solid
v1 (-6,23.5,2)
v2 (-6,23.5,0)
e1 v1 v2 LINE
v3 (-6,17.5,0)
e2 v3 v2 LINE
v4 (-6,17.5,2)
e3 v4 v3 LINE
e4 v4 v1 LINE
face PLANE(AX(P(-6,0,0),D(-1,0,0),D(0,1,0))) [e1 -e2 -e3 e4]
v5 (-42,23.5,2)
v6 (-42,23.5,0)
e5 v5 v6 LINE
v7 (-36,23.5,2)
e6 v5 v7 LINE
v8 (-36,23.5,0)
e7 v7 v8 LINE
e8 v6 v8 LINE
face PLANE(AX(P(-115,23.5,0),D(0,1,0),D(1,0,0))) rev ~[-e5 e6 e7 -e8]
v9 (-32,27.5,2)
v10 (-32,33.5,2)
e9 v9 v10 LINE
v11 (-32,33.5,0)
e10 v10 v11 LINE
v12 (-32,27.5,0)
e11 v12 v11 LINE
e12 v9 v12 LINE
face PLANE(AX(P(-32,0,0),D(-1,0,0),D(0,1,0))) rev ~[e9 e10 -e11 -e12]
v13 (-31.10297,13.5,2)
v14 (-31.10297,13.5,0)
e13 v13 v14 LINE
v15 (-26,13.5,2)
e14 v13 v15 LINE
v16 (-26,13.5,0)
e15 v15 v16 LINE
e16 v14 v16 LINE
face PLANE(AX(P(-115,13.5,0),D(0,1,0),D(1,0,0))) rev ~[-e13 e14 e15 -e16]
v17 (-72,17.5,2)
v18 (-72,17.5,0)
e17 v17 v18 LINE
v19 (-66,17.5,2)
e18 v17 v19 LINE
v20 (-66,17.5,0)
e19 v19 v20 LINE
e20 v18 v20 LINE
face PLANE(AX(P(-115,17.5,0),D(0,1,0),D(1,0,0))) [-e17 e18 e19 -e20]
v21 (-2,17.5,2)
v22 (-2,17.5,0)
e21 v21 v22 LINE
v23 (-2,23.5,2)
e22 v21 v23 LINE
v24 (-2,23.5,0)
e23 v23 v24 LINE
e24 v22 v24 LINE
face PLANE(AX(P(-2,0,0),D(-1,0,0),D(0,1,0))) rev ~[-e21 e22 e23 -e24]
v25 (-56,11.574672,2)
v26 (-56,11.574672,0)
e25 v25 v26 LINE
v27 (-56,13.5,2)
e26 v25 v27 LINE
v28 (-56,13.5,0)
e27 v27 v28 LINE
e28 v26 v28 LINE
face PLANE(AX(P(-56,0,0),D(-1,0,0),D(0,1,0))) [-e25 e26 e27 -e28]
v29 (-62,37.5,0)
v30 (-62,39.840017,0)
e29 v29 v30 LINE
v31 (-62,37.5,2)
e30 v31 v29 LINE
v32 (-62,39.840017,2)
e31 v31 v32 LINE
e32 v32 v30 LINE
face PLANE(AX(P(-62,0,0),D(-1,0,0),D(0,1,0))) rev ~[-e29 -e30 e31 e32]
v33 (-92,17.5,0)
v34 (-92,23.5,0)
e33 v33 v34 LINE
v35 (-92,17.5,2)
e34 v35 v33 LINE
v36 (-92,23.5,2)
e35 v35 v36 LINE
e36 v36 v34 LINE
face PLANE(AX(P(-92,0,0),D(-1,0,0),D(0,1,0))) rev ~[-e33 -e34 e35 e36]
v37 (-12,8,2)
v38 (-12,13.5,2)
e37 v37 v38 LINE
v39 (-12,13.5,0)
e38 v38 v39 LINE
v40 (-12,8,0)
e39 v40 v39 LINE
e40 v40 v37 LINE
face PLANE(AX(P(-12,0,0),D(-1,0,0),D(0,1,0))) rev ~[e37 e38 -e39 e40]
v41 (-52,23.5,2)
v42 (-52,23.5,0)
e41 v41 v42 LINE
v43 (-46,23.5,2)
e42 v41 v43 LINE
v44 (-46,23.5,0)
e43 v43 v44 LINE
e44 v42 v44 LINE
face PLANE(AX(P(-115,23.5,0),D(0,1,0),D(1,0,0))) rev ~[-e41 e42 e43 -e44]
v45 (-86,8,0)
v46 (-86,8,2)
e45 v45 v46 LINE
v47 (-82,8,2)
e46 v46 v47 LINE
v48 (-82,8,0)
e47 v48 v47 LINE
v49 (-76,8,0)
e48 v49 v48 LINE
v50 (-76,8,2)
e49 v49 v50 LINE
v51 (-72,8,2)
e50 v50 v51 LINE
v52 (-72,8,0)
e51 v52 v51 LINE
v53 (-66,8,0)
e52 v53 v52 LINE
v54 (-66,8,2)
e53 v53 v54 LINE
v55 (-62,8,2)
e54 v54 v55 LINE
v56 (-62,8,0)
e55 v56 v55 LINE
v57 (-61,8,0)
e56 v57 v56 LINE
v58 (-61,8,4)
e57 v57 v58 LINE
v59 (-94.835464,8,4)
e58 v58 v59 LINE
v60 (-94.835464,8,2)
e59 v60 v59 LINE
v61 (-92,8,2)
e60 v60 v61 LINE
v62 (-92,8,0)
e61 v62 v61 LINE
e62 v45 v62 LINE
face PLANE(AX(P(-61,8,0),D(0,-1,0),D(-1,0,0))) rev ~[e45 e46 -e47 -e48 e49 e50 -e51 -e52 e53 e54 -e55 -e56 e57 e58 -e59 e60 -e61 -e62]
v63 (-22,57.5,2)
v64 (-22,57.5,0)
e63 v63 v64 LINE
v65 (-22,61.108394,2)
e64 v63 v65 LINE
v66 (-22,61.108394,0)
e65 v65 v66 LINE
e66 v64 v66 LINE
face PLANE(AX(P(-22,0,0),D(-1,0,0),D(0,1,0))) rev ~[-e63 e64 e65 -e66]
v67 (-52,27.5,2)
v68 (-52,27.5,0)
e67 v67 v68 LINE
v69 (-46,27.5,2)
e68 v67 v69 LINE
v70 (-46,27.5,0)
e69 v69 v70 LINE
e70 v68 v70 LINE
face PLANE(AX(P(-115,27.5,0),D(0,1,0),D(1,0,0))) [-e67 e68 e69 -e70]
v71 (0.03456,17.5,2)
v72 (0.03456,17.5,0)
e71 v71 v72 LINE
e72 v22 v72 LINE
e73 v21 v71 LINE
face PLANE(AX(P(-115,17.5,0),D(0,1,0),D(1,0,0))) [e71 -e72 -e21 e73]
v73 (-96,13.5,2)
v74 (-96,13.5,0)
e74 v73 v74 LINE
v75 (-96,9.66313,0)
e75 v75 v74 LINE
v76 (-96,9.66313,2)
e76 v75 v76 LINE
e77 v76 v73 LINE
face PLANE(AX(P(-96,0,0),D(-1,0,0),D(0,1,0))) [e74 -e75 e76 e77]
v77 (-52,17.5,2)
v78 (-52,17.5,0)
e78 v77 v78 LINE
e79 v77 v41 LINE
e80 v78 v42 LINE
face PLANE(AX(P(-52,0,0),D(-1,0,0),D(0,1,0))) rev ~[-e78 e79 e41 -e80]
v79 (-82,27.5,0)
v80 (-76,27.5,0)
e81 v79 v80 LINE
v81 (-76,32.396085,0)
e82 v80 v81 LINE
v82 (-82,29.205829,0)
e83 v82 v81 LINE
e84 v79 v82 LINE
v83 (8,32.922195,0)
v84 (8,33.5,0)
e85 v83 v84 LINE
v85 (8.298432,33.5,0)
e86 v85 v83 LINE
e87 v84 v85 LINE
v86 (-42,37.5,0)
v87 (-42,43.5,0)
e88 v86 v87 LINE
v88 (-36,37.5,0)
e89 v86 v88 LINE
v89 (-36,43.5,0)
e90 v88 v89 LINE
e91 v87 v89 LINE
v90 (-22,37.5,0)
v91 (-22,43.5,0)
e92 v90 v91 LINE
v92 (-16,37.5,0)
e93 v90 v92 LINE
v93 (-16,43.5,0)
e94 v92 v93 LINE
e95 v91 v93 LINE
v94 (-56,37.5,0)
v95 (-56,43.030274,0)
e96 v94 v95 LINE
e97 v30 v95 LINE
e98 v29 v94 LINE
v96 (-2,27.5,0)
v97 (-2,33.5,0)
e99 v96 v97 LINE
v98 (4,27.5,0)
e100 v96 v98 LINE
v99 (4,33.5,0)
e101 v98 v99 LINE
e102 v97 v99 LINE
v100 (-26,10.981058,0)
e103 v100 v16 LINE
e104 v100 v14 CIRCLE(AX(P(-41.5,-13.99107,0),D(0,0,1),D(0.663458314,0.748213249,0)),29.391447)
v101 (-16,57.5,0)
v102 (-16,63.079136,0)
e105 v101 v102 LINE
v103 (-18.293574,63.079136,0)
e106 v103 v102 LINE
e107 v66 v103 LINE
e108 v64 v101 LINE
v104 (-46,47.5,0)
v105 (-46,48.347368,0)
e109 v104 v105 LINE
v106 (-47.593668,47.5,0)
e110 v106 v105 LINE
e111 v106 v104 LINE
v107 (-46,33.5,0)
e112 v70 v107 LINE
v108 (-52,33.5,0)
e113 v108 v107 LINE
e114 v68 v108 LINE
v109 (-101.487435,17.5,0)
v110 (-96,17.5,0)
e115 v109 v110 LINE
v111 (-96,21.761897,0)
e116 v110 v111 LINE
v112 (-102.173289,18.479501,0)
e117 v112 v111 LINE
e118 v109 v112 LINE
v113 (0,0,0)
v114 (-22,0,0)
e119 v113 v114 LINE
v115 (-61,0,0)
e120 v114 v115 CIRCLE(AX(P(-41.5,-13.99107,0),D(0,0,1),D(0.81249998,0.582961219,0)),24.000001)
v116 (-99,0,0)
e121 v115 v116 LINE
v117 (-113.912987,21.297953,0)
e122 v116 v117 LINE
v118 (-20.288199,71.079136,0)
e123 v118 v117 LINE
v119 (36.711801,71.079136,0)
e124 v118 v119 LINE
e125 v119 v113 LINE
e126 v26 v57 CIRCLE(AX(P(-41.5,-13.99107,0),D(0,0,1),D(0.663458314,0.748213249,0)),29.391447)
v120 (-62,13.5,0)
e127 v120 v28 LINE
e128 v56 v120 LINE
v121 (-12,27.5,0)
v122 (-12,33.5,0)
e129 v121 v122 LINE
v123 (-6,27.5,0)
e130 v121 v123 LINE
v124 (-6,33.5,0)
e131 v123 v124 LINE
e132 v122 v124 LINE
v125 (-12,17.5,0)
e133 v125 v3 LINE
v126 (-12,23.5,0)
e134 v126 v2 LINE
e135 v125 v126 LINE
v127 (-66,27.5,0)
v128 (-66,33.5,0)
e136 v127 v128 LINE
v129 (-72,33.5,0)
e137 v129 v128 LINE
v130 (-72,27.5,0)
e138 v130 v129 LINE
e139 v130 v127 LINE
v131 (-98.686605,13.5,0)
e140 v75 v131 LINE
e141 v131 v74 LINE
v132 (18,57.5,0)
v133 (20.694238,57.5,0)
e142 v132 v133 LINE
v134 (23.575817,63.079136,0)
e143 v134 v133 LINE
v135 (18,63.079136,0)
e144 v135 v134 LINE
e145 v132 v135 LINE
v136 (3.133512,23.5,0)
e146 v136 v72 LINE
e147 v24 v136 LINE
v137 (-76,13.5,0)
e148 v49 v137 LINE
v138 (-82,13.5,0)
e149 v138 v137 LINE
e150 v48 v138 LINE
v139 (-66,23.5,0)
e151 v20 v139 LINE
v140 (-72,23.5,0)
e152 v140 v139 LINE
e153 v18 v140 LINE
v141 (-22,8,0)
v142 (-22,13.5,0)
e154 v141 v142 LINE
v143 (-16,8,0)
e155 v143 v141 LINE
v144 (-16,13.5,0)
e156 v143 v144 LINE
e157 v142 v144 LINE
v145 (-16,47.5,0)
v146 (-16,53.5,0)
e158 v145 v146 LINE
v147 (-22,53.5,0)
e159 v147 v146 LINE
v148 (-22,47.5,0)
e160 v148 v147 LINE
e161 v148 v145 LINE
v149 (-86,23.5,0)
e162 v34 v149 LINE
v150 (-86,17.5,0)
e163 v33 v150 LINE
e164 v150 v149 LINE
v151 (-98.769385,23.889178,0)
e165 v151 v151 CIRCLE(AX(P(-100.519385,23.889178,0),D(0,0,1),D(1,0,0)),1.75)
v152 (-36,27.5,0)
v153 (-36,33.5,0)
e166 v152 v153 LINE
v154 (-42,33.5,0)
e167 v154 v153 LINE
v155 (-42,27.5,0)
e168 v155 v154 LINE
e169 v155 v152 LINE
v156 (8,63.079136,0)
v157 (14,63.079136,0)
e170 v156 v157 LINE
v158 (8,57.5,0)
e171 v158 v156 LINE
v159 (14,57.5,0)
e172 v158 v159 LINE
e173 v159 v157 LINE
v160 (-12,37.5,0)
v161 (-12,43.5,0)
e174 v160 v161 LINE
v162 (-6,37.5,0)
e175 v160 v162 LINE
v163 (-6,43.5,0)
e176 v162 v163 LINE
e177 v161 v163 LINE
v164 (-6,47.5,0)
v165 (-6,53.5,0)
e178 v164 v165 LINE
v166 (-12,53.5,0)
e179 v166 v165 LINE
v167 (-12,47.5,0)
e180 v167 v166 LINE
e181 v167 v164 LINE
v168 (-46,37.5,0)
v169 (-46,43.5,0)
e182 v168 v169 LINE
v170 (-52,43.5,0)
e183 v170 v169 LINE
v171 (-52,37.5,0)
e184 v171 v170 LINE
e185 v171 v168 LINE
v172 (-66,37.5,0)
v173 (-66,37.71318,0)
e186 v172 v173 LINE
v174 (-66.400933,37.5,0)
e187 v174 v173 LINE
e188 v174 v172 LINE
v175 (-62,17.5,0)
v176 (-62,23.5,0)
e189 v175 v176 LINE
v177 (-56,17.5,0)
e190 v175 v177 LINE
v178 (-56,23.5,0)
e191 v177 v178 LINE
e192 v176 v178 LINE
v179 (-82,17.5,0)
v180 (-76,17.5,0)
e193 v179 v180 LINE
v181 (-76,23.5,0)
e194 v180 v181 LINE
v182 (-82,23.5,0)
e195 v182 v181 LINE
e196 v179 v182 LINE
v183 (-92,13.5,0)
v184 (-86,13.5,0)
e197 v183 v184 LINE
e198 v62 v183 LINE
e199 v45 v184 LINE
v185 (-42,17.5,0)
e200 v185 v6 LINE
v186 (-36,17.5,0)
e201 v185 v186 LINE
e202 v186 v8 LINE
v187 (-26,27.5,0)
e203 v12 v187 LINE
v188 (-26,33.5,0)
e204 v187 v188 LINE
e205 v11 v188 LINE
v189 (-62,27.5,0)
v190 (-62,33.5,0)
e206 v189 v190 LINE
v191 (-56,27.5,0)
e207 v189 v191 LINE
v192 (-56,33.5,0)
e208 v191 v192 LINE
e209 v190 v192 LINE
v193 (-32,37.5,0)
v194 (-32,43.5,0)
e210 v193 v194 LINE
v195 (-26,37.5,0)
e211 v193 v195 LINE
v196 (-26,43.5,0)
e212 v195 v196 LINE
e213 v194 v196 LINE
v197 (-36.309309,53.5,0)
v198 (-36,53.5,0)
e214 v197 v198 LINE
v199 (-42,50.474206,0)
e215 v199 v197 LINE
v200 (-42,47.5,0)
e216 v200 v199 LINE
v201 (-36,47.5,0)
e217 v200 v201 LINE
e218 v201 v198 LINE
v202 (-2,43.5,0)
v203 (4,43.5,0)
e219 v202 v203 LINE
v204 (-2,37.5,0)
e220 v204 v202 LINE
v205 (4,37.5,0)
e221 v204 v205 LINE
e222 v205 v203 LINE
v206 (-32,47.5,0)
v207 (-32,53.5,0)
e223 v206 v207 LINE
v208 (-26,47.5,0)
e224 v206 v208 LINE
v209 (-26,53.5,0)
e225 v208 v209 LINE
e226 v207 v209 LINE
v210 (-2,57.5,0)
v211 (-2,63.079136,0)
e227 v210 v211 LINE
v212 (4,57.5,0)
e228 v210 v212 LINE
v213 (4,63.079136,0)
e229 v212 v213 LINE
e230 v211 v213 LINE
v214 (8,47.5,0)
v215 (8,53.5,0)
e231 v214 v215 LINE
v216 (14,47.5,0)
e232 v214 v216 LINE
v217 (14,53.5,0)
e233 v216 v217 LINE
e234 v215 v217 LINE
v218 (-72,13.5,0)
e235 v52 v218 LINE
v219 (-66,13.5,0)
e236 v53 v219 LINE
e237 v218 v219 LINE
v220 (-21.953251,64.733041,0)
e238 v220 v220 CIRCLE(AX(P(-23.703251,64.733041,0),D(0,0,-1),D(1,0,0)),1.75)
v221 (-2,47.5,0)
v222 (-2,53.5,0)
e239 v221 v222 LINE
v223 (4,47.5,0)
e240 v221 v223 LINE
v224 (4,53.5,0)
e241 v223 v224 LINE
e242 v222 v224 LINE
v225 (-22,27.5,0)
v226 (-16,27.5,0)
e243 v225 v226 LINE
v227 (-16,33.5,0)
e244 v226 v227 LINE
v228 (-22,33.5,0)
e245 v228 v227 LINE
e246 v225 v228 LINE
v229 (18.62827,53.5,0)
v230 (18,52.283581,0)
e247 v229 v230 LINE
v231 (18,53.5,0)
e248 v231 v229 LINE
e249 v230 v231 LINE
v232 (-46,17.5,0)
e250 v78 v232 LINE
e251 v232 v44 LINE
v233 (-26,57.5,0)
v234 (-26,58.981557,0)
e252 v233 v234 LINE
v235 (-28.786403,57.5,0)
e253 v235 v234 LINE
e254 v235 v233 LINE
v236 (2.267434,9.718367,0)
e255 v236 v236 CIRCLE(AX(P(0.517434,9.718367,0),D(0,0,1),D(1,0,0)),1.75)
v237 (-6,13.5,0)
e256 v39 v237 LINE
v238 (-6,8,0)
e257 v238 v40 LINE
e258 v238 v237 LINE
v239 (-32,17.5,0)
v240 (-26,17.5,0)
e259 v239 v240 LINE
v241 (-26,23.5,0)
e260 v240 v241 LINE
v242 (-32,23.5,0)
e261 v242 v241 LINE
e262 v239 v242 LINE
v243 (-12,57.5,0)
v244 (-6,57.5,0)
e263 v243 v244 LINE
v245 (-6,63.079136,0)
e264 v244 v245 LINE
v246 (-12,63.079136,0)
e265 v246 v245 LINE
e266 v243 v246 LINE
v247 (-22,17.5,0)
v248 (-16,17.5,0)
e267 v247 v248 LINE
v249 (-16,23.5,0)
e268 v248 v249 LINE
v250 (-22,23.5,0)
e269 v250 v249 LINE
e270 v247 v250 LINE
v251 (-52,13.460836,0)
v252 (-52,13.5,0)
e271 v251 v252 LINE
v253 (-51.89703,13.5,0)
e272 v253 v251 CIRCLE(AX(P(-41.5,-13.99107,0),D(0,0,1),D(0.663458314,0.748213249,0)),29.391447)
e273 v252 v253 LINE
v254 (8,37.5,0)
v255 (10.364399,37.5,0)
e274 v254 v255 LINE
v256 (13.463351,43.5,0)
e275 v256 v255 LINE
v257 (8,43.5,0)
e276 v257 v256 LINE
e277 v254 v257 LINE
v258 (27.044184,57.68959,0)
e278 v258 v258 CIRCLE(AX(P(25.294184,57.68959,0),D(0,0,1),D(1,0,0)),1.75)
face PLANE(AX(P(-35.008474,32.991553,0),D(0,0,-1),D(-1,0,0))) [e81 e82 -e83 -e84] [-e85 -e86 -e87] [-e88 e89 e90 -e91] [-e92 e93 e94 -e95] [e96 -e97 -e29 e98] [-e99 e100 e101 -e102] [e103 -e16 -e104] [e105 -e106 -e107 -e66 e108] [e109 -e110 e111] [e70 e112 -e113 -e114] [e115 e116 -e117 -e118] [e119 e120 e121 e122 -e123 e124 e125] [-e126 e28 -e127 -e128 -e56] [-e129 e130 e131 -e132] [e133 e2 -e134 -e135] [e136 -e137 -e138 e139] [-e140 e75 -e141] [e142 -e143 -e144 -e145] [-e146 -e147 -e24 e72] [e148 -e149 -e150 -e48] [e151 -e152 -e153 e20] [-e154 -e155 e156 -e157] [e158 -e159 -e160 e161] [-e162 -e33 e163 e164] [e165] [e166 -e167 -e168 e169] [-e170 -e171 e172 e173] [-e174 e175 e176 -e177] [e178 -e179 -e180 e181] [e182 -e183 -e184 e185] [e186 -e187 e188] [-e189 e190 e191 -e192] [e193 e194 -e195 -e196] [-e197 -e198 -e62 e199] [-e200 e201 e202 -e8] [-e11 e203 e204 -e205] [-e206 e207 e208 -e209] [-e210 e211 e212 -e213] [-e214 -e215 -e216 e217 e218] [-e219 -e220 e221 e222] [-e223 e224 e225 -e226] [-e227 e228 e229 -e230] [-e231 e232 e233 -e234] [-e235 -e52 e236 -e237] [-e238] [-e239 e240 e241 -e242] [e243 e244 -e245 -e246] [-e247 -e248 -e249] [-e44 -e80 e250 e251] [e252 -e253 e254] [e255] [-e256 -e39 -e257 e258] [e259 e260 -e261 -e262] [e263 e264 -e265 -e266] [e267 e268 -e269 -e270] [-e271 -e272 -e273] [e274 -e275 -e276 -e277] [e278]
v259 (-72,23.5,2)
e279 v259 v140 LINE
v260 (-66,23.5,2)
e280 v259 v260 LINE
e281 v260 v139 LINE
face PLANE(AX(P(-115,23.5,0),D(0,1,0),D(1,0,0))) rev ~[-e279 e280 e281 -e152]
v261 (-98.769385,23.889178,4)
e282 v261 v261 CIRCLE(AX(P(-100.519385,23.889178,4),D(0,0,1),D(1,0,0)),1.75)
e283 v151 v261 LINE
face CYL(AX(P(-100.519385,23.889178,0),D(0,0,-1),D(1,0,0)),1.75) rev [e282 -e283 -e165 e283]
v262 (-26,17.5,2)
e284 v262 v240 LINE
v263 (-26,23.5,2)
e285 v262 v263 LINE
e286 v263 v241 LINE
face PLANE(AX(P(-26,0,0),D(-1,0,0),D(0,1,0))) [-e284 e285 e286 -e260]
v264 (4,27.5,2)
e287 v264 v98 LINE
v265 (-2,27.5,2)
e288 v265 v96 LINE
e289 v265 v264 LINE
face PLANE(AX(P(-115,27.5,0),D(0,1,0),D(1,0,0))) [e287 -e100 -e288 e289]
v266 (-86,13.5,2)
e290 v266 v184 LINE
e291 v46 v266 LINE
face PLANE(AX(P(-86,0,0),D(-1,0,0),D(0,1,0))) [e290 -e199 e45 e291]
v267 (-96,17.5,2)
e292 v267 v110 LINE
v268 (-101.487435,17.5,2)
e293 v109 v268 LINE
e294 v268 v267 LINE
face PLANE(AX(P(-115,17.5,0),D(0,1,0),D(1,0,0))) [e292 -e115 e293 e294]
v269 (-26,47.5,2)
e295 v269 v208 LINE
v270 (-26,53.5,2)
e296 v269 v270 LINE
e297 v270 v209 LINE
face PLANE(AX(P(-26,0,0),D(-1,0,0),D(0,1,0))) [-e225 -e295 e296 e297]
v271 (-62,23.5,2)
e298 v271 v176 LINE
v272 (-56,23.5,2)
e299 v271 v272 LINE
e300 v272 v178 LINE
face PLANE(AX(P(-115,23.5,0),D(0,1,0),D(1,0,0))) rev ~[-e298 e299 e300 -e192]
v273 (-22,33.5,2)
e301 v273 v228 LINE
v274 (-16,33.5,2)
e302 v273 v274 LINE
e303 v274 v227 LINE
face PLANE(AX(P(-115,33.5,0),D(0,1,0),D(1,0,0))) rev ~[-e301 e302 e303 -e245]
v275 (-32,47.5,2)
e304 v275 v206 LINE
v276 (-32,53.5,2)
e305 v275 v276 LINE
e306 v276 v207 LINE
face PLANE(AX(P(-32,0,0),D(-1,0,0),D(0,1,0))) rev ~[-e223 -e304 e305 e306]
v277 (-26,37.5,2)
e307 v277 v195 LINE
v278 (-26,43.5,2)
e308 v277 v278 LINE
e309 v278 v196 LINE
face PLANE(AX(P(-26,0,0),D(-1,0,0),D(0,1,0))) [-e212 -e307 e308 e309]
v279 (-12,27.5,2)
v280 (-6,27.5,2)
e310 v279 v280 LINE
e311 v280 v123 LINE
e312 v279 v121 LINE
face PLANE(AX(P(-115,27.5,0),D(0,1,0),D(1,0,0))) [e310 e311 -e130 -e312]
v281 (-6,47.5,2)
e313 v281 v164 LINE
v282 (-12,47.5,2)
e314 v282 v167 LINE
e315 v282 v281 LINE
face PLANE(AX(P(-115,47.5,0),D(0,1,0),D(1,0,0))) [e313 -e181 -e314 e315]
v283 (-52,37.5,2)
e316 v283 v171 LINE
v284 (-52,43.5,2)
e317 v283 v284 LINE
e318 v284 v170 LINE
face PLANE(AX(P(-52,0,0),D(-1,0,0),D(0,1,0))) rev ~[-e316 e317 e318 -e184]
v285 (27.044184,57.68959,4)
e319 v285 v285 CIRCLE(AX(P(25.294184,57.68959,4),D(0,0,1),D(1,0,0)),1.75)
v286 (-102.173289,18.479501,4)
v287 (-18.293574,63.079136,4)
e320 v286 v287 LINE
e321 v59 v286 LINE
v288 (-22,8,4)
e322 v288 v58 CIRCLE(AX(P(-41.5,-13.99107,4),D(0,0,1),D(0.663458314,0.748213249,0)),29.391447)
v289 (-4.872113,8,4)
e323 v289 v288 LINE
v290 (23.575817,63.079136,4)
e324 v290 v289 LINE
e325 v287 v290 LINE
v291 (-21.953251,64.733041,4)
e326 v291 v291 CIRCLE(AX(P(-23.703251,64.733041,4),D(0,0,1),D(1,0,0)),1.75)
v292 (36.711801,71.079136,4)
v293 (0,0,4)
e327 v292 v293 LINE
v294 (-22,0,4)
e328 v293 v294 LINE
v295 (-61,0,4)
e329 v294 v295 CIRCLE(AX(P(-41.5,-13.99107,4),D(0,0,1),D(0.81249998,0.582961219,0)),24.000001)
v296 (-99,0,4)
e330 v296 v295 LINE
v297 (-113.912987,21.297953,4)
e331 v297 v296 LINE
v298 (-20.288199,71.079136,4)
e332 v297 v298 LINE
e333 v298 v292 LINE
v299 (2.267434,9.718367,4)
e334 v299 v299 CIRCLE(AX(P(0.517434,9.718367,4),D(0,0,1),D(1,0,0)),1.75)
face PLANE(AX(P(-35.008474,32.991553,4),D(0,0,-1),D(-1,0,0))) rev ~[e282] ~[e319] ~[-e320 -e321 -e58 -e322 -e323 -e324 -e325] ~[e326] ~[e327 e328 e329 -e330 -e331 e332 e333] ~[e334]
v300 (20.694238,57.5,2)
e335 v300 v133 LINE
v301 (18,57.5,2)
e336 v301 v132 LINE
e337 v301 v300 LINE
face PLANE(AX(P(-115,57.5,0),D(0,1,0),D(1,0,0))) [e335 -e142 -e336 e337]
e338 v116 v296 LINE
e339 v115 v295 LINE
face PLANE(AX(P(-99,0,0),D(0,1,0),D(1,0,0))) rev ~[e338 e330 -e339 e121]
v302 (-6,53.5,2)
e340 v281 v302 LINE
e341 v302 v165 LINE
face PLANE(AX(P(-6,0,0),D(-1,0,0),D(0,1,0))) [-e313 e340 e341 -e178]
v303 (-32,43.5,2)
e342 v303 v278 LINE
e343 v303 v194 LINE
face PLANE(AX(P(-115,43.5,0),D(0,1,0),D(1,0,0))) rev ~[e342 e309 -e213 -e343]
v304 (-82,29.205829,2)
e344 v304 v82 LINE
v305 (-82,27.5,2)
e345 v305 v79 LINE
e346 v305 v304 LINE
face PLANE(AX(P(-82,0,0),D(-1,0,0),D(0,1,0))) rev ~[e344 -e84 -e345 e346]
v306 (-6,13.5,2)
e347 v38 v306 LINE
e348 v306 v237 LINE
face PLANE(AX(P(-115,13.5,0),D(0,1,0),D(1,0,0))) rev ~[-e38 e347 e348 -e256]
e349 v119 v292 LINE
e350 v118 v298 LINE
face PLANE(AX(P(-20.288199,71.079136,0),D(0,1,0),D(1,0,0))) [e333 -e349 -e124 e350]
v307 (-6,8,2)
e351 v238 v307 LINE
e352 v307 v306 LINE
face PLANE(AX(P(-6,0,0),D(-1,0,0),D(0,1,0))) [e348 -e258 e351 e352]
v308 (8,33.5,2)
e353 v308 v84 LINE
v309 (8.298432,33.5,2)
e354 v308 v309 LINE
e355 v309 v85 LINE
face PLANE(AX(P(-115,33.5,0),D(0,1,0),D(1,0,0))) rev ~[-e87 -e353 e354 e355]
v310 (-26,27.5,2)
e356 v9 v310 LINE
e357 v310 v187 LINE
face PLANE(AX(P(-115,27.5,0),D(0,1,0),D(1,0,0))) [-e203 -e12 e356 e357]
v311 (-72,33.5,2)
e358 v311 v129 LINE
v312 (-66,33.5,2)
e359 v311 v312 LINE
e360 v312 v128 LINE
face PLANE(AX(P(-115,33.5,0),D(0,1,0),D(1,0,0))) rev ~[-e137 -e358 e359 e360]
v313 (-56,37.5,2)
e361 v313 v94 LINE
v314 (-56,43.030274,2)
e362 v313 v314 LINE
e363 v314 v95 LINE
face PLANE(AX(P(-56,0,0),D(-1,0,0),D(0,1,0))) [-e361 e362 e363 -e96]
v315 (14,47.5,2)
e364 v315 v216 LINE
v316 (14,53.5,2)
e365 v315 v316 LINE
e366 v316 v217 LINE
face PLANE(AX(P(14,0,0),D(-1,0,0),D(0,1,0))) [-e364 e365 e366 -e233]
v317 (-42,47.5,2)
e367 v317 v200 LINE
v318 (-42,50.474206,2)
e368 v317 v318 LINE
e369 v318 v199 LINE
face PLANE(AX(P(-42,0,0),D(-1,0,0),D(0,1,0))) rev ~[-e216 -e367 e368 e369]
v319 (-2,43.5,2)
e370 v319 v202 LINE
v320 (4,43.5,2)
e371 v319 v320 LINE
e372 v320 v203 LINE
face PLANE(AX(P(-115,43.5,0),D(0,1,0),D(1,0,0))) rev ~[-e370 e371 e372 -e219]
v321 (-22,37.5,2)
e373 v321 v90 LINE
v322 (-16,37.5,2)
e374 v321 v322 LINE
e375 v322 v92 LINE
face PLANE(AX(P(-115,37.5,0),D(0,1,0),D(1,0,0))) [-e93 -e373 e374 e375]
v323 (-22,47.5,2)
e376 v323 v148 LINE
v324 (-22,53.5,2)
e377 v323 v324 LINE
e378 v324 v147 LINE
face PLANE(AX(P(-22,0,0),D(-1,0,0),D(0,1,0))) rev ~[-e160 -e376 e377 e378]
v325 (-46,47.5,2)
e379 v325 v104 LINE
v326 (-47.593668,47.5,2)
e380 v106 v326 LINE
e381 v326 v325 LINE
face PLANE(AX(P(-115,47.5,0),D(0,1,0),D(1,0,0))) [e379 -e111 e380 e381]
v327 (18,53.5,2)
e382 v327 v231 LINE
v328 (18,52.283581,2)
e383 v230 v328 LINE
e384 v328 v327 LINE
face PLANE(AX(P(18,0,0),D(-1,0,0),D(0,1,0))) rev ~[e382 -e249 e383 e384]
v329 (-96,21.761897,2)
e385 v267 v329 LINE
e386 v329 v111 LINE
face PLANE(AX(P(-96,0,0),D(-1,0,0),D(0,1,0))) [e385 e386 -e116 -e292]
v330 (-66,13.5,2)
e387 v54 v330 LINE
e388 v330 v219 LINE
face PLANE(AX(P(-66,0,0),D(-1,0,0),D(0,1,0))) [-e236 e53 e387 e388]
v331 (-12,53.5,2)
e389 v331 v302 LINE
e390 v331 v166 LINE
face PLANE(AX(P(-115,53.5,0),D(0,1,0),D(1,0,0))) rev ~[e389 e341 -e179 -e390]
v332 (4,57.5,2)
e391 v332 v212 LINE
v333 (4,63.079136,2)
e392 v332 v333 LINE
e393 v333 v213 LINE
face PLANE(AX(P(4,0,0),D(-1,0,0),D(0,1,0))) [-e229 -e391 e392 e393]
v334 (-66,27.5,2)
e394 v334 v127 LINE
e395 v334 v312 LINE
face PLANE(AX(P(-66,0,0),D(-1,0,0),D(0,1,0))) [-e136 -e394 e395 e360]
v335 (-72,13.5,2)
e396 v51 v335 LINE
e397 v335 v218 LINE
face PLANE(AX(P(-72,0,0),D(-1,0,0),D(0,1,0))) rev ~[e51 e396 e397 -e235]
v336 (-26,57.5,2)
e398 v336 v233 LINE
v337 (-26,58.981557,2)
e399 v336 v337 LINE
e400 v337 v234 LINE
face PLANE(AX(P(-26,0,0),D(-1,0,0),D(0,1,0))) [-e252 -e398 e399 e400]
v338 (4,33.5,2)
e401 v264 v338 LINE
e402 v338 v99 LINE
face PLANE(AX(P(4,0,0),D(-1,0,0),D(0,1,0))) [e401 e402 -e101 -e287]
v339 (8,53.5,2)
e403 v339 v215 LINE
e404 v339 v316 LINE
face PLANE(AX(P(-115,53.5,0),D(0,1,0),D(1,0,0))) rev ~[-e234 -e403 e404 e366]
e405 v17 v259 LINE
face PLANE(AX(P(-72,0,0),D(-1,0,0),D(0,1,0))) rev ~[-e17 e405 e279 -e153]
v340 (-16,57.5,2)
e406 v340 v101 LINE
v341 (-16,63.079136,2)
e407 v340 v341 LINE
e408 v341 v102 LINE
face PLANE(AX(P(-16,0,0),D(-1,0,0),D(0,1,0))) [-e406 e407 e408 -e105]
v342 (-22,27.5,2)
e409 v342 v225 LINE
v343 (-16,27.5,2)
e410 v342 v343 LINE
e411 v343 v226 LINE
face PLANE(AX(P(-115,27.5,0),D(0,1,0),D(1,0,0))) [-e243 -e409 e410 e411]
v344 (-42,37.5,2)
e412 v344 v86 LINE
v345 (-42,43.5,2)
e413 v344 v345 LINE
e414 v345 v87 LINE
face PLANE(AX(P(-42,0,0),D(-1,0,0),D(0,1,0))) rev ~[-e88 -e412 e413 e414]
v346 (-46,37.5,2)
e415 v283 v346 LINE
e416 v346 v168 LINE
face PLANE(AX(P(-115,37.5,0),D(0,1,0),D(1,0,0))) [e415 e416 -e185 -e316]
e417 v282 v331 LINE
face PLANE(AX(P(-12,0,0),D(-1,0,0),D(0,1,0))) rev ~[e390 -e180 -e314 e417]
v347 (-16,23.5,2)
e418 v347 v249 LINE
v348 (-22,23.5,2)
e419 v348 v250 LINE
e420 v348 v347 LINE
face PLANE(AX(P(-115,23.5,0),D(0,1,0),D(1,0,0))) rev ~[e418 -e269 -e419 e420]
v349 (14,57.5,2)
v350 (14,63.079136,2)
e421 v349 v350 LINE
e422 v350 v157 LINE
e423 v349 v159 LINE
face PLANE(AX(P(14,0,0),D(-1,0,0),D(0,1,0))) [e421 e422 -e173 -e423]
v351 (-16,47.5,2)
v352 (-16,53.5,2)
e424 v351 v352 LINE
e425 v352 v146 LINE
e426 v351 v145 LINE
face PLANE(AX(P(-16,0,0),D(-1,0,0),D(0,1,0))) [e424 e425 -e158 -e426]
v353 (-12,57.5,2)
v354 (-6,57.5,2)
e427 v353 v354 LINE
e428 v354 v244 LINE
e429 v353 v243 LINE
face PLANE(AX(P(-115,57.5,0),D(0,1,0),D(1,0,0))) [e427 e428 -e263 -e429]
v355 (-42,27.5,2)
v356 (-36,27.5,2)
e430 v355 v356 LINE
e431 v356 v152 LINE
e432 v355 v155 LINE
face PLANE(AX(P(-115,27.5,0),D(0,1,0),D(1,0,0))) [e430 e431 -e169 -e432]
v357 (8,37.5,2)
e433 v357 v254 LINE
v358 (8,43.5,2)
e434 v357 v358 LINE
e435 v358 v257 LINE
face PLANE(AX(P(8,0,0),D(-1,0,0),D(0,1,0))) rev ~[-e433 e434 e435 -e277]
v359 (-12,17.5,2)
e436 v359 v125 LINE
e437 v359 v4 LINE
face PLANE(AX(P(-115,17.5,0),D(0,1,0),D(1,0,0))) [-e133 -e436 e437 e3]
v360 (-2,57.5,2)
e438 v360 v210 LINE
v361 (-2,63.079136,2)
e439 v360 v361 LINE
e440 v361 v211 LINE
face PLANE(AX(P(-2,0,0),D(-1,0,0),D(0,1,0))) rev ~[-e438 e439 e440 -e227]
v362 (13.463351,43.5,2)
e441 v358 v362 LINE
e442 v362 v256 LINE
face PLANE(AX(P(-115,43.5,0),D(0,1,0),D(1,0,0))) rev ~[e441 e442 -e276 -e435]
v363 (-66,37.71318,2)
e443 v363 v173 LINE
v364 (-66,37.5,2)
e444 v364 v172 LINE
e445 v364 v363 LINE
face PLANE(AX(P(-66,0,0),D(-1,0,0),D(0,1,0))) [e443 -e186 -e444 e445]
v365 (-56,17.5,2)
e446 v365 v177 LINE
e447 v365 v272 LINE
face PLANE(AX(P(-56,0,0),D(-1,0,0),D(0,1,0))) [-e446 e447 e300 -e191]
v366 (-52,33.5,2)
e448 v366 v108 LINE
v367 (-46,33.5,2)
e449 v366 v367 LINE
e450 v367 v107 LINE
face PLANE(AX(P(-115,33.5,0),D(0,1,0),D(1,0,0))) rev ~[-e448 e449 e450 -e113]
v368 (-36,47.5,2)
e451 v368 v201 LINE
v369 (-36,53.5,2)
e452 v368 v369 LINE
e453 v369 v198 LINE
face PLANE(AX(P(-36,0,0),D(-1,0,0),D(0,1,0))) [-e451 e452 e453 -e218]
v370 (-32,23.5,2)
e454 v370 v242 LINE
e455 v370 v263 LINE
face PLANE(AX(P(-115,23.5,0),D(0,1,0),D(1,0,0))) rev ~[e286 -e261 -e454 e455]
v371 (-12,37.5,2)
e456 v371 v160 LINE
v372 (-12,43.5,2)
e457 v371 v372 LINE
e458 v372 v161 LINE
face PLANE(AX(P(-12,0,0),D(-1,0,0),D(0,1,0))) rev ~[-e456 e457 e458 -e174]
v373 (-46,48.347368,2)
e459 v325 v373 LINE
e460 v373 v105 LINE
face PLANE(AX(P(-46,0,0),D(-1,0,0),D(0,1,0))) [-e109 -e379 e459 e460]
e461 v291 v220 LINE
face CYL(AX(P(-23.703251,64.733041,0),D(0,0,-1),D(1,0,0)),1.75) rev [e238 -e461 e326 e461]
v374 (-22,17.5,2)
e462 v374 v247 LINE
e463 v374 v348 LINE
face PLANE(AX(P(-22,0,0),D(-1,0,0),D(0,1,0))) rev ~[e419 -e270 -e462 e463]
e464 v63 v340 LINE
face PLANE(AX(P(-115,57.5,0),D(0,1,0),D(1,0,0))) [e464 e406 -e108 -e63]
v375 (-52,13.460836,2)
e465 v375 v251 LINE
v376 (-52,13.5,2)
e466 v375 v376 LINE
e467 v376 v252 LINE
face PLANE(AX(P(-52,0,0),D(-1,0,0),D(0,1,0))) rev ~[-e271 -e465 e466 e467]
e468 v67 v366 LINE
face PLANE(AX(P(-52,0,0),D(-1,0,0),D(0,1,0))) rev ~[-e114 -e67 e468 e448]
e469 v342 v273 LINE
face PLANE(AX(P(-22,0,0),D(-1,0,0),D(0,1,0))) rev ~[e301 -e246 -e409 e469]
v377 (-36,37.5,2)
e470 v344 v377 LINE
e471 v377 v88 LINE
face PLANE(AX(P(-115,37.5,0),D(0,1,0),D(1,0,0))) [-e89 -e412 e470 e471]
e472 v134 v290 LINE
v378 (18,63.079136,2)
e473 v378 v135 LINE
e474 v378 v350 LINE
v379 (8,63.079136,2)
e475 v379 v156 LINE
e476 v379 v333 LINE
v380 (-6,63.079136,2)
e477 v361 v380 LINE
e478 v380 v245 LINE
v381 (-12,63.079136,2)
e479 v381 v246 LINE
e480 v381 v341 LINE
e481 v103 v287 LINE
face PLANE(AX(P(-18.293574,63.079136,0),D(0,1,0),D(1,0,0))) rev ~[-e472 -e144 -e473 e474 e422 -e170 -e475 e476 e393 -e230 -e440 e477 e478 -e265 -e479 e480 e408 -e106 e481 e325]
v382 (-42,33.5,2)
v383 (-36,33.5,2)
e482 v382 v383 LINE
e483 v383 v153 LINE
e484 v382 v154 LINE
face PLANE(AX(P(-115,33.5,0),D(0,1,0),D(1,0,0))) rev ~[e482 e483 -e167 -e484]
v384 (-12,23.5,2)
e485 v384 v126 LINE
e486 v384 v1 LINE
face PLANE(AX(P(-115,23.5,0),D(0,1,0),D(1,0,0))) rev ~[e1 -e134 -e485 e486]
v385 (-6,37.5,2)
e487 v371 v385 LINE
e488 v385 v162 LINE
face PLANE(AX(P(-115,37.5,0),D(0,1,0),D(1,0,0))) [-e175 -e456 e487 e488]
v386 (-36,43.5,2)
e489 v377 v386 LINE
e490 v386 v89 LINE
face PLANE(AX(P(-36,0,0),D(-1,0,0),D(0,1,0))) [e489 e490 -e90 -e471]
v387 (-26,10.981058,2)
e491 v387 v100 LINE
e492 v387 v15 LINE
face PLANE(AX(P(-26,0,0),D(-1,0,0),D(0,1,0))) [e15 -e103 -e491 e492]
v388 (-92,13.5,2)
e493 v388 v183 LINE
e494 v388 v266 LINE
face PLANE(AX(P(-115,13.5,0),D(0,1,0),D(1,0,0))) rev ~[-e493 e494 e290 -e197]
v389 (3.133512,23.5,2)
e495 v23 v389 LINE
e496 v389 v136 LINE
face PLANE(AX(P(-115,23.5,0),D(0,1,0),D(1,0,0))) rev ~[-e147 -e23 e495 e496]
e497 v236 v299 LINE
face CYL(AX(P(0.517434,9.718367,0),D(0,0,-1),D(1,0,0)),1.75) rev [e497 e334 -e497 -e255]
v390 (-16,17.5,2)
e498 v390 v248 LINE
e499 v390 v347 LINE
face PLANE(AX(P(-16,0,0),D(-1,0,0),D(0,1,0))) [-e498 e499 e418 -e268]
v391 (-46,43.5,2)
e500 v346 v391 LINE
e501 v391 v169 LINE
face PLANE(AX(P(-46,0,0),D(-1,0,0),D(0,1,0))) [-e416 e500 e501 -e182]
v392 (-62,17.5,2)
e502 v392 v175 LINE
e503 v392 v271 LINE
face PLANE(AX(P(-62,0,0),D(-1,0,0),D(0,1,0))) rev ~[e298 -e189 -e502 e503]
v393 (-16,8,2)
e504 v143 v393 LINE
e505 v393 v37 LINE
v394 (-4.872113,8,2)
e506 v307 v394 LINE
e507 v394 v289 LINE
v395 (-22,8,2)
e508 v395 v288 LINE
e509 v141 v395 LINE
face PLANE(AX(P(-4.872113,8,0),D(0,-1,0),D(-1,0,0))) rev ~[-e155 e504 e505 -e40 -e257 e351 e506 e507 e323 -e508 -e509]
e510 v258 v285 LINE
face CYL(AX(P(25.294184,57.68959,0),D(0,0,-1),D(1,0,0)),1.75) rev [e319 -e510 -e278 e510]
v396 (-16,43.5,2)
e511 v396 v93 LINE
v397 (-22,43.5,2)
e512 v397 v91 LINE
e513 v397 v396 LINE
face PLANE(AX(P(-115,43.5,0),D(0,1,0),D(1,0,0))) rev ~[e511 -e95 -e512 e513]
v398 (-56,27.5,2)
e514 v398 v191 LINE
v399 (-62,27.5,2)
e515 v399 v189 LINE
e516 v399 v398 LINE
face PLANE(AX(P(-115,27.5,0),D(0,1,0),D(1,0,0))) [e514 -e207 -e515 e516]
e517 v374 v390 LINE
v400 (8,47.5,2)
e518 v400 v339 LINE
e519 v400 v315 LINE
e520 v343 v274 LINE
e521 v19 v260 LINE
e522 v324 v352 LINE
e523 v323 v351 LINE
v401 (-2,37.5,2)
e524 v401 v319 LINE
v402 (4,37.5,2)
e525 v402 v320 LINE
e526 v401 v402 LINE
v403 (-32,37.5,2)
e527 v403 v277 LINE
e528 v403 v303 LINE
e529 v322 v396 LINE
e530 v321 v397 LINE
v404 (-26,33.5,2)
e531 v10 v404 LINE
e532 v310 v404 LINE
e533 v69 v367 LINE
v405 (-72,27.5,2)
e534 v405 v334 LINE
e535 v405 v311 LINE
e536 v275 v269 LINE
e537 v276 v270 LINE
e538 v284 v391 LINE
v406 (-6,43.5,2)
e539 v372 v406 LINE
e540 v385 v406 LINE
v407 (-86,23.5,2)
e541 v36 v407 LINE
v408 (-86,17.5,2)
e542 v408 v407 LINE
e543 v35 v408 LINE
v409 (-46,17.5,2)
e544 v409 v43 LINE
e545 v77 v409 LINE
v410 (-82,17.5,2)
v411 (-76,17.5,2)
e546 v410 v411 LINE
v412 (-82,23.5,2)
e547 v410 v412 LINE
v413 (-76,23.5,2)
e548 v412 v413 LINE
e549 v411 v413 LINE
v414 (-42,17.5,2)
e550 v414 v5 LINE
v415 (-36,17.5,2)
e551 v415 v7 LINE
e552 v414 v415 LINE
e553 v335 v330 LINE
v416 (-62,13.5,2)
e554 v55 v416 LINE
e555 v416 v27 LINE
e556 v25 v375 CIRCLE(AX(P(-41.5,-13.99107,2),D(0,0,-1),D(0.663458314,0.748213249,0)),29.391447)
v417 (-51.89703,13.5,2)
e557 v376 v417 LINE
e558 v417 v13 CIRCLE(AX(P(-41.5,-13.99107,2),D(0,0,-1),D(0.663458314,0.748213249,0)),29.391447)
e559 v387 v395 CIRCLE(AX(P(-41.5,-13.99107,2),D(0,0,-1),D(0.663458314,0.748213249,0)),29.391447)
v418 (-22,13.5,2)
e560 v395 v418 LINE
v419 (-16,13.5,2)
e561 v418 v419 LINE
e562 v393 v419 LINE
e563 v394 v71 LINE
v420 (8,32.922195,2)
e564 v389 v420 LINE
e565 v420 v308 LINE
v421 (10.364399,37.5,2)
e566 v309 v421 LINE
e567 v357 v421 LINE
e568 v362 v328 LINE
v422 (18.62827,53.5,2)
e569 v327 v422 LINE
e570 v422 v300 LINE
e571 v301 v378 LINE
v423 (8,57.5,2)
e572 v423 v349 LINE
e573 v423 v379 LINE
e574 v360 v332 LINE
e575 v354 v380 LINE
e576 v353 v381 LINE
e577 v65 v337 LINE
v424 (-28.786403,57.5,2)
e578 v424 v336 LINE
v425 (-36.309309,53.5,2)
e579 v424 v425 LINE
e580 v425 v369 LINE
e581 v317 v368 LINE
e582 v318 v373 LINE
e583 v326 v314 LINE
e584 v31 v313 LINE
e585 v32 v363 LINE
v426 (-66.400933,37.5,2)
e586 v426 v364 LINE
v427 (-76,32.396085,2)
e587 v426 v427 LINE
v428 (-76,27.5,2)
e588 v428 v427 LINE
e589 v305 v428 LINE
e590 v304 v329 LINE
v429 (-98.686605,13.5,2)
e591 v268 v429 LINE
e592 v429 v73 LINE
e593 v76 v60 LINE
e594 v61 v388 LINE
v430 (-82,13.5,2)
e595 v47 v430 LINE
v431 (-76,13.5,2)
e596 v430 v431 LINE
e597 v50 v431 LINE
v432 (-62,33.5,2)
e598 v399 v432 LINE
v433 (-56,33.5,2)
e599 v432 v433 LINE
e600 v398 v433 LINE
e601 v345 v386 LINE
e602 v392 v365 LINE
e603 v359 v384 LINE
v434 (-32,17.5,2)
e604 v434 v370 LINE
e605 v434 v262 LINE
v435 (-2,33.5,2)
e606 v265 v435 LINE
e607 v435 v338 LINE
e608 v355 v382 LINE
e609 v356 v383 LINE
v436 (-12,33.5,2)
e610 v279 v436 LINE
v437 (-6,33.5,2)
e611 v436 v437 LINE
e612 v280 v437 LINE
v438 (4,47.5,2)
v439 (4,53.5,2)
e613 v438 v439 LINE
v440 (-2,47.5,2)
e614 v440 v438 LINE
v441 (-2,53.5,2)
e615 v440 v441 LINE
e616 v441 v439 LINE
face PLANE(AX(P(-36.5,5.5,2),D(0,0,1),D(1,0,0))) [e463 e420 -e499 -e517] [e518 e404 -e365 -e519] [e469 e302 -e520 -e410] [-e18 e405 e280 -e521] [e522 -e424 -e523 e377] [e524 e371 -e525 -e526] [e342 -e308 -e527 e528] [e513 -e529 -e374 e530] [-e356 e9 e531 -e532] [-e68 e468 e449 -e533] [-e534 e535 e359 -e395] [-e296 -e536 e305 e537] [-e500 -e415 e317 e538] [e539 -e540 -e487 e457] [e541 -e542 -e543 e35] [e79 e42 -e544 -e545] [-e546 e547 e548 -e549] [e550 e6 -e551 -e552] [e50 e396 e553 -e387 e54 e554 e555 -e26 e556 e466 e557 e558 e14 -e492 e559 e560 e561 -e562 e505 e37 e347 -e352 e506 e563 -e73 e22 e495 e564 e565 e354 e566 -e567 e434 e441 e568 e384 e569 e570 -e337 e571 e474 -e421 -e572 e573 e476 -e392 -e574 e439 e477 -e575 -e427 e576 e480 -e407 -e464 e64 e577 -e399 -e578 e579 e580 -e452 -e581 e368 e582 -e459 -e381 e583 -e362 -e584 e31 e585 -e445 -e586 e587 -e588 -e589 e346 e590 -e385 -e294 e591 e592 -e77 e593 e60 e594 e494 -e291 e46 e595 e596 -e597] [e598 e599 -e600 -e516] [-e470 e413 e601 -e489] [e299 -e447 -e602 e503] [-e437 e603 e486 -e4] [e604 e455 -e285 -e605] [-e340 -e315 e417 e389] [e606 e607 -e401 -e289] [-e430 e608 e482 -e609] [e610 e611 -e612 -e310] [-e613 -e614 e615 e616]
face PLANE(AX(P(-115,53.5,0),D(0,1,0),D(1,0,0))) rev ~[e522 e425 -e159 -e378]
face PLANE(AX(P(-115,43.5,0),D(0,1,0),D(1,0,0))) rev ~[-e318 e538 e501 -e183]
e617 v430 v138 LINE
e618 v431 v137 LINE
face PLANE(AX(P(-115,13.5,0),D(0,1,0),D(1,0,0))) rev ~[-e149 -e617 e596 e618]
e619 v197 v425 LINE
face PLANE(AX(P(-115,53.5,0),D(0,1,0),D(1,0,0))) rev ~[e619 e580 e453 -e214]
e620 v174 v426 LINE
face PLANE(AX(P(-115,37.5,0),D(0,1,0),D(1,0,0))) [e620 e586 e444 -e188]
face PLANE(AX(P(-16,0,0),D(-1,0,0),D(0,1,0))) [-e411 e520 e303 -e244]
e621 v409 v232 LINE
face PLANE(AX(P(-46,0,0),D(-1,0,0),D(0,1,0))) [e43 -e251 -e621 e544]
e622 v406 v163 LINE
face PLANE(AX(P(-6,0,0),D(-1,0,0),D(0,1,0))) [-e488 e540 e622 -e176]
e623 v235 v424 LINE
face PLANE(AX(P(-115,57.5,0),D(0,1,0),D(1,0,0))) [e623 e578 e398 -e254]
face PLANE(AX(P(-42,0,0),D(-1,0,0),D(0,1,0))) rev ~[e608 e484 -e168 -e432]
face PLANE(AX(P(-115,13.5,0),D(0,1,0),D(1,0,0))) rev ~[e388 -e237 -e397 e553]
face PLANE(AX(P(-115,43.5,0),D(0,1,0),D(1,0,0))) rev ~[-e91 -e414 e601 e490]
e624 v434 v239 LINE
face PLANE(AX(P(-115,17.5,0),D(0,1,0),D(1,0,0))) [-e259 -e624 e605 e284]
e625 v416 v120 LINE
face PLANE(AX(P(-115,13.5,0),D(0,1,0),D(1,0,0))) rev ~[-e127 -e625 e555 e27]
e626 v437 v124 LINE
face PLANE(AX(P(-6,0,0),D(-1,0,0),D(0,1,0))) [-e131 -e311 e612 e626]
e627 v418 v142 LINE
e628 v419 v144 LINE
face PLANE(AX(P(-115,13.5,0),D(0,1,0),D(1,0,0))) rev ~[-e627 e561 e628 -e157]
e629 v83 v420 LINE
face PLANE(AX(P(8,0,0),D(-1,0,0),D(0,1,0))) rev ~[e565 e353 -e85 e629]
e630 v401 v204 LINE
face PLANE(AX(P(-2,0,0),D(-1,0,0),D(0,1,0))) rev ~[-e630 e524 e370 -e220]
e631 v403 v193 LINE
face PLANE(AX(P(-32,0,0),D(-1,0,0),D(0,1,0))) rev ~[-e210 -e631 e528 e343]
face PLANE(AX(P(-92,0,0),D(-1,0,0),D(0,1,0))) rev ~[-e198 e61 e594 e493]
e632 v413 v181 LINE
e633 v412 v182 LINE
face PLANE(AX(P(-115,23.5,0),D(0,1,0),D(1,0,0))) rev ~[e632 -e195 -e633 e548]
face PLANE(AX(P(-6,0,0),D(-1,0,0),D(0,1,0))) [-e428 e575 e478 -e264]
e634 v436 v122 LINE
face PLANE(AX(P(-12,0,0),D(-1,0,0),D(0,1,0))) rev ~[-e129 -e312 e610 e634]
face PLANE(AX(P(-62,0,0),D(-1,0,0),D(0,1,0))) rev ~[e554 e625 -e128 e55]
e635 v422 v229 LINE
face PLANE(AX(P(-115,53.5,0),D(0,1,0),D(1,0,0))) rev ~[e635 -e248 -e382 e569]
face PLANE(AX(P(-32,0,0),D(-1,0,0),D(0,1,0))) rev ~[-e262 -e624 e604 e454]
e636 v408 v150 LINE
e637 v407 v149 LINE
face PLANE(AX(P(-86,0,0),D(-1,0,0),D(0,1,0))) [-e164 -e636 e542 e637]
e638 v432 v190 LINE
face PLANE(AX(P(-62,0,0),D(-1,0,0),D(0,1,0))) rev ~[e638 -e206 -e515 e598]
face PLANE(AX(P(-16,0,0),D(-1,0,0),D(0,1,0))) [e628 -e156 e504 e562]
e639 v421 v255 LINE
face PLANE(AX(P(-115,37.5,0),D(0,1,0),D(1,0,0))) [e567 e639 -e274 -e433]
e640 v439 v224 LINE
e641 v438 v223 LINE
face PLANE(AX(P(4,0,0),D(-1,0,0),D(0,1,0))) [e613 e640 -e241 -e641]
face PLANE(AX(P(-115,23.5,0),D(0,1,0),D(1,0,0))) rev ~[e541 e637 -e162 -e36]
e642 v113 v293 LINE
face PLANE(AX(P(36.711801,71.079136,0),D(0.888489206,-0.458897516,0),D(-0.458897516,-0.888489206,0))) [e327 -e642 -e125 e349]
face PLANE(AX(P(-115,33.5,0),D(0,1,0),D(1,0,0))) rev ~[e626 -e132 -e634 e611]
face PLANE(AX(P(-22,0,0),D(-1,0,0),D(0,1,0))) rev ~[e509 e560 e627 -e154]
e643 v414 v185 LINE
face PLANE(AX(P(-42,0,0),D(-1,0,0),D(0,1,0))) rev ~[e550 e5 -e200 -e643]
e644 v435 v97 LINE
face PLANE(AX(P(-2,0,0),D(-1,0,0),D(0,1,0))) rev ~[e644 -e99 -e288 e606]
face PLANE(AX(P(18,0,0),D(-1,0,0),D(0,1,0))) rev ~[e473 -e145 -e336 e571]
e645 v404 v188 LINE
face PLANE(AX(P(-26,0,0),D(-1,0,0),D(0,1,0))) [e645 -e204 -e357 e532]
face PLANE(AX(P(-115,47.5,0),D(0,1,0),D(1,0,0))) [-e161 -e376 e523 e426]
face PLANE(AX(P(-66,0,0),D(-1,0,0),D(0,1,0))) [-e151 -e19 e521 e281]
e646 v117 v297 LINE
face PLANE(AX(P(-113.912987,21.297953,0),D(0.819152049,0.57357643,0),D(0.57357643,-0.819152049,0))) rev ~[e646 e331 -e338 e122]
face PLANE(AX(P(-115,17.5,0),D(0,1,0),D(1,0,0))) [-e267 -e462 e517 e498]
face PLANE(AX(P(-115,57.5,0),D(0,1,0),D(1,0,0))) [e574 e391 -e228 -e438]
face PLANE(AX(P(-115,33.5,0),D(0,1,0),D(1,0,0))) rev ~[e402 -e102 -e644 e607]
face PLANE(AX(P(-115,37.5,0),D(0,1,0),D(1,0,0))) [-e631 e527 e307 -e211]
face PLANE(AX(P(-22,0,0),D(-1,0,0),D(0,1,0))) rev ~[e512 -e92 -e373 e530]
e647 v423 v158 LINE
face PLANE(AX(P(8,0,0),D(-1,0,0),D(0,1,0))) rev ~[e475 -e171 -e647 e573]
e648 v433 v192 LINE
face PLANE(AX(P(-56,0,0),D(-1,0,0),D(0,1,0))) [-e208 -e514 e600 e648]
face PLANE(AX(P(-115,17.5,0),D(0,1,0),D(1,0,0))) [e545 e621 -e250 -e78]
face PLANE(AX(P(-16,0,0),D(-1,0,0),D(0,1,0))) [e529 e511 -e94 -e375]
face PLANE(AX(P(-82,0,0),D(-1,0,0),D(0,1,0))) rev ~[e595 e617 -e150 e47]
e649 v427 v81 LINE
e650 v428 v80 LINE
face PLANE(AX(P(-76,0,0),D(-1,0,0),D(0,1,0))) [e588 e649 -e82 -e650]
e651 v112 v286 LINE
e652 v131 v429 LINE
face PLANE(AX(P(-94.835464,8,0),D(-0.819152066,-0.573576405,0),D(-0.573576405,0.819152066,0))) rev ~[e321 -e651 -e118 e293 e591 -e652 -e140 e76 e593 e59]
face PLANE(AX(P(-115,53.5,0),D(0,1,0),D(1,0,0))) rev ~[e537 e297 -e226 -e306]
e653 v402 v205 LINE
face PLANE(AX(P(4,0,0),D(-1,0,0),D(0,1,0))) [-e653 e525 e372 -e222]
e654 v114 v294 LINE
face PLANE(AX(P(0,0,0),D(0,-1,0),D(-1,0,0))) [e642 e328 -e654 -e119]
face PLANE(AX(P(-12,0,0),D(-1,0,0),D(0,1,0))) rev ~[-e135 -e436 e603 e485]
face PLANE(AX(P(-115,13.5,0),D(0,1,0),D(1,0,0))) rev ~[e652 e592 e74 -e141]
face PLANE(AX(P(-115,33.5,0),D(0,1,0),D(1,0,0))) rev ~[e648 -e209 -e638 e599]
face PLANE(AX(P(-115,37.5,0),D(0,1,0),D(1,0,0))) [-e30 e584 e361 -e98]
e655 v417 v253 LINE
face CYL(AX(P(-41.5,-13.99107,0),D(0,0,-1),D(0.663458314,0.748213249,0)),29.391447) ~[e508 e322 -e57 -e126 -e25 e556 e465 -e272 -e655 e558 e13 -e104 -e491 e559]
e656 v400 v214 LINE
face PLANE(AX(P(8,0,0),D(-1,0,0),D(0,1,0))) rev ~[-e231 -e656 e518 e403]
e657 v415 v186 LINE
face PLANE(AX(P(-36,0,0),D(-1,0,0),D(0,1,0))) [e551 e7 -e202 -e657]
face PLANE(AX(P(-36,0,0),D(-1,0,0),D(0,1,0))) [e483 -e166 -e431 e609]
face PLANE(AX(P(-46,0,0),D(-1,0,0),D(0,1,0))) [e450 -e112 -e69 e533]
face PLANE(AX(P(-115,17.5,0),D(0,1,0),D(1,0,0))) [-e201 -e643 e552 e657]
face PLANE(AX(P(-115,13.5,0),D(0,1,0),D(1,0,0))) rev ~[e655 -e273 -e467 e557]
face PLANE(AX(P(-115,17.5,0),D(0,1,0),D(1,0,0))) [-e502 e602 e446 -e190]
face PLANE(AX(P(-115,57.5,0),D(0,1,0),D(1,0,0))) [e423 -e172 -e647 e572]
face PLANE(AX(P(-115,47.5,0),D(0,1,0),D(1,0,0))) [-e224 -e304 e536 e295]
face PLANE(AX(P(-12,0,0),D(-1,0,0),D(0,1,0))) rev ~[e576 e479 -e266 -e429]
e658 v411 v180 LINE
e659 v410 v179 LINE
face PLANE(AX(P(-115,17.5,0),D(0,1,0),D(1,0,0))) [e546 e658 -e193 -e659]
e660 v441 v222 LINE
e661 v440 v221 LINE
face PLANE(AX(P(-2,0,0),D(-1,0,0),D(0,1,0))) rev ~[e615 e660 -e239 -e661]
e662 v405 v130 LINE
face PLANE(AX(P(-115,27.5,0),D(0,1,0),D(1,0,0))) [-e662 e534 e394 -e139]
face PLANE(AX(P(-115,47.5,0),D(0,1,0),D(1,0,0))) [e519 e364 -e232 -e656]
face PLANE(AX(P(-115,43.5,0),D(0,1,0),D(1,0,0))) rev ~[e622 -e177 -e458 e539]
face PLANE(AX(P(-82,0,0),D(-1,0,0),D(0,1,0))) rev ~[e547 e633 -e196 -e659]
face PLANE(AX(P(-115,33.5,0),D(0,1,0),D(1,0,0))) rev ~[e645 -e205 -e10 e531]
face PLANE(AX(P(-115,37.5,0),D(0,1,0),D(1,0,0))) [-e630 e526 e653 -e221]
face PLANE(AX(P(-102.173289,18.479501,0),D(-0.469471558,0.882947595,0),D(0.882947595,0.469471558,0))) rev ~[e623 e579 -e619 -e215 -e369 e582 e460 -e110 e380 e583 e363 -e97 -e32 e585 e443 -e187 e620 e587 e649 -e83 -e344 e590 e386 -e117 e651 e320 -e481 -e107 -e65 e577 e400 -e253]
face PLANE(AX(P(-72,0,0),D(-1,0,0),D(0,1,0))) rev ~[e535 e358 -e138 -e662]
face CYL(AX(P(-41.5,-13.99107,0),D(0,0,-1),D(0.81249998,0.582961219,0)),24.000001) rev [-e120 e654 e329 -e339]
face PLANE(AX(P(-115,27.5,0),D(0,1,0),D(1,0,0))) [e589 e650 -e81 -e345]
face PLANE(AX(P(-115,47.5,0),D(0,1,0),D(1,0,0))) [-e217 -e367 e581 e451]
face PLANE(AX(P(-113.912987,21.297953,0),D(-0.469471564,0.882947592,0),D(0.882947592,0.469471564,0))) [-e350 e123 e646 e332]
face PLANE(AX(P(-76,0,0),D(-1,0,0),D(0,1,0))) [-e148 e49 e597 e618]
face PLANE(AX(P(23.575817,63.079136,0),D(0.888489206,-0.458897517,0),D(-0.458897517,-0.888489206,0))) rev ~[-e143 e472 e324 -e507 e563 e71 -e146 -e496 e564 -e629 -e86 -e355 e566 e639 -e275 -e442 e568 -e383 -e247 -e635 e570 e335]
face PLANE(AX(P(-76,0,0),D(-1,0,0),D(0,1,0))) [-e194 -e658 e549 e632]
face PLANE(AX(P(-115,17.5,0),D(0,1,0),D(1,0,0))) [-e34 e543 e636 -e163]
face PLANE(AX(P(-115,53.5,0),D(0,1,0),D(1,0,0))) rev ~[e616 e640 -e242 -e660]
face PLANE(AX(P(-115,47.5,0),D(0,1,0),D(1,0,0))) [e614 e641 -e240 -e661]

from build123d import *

# Parameters (mm, degrees)
SKETCH002_R      = 1.75
PAD002_DEPTH     = 25
SKETCH_R         = 1.75
PAD_DEPTH        = 4
BOX001_W         = 157
BOX001_H         = 4
BOX001_DEPTH     = 2
ARRAY001_Y_COUNT = 7
ARRAY001_Y_PITCH = 10
BOX_W            = 4
BOX_H            = 71
BOX_DEPTH        = 2
ARRAY_X_COUNT    = 14
ARRAY_X_PITCH    = 10
PAD001_DEPTH     = 10


with BuildPart() as pad002:
    # Sketch002 → Pad002 (new body)
    with BuildSketch(Plane.XY.offset(-5)):
        with Locations((-100.519385, 23.889178)):
            Circle(SKETCH002_R)
        with Locations((-23.703251, 64.733041)):
            Circle(SKETCH002_R)
        with Locations((25.294184, 57.68959)):
            Circle(SKETCH002_R)
        with Locations((0.517434, 9.718367)):
            Circle(SKETCH002_R)
    extrude(amount=PAD002_DEPTH)


with BuildPart() as pad:
    # Sketch → Pad (new body)
    with BuildSketch(Plane.XY):
        with BuildLine():
            Line((-113.912987, 21.297953), (-20.288199, 71.079136))
            Line((-20.288199, 71.079136), (36.711801, 71.079136))
            Line((36.711801, 71.079136), (0, 0))
            Line((0, 0), (-22, 0))
            ThreePointArc((-22, 0), (-41.5, 10.008931), (-61, 0))
            Line((-99, 0), (-61, 0))
            Line((-113.912987, 21.297953), (-99, 0))
        make_face()
        with Locations((-100.519385, 23.889178)):
            Circle(SKETCH_R, mode=Mode.SUBTRACT)
        with Locations((-23.703251, 64.733041)):
            Circle(SKETCH_R, mode=Mode.SUBTRACT)
        with Locations((25.294184, 57.68959)):
            Circle(SKETCH_R, mode=Mode.SUBTRACT)
        with Locations((0.517434, 9.718367)):
            Circle(SKETCH_R, mode=Mode.SUBTRACT)
        with BuildLine():
            Line((-61, 8), (-94.835464, 8))
            Line((-94.835464, 8), (-102.173289, 18.479501))
            Line((-102.173289, 18.479501), (-18.293574, 63.079136))
            Line((-18.293574, 63.079136), (23.575817, 63.079136))
            Line((23.575817, 63.079136), (-4.872113, 8))
            Line((-4.872113, 8), (-22, 8))
            ThreePointArc((-22, 8), (-41.5, 15.400377), (-61, 8))
        make_face(mode=Mode.SUBTRACT)
    extrude(amount=PAD_DEPTH)


with BuildPart() as array001:
    # Box001 → Box001 (new body)
    with BuildSketch(Plane(origin=(-115, 0, 0), x_dir=(1, 0, 0), z_dir=(0, 0, 1))):
        with Locations((78.5, 2)):
            Rectangle(BOX001_W, BOX001_H)
    extrude(amount=BOX001_DEPTH)

    # Array001 Y: Array001 ×7


with BuildPart() as array001_1:
    add(array001.part)
    with Locations(*[(0, i * ARRAY001_Y_PITCH, 0) for i in range(1, ARRAY001_Y_COUNT)]):
        add(array001.part)


with BuildPart() as array001_2:
    # Array001 placement: moved
    add(array001_1.part.moved(Location((0, 3.5, 0))))


with BuildPart() as fusion:
    # Box → Box (new body)
    with BuildSketch(Plane.XY):
        with Locations((2, 35.5)):
            Rectangle(BOX_W, BOX_H)
    extrude(amount=BOX_DEPTH)

    # Array X: Fusion ×14


with BuildPart() as fusion_1:
    add(fusion.part)
    with Locations(*[(i * ARRAY_X_PITCH, 0, 0) for i in range(1, ARRAY_X_COUNT)]):
        add(fusion.part)


with BuildPart() as fusion_2:
    # Array placement: moved
    add(fusion_1.part.moved(Location((-96, 0, 0))))

    # Fusion: union Array001
    add(array001_2.part)


with BuildPart() as cut:
    # Sketch001 → Pad001 (new body)
    with BuildSketch(Plane.XY.offset(-1)):
        with BuildLine():
            Line((-113.912987, 21.297953), (-20.288199, 71.079136))
            Line((-20.288199, 71.079136), (36.711801, 71.079136))
            Line((36.711801, 71.079136), (0, 0))
            Line((0, 0), (-22, 0))
            ThreePointArc((-22, 0), (-41.5, 10.008931), (-61, 0))
            Line((-99, 0), (-61, 0))
            Line((-113.912987, 21.297953), (-99, 0))
        make_face()
    extrude(amount=PAD001_DEPTH)

    # Common: intersect Fusion
    add(fusion_2.part, mode=Mode.INTERSECT)

    # Fusion001: union Pad
    add(pad.part)

    # Cut: cut Pad002
    add(pad002.part, mode=Mode.SUBTRACT)


solid = cut.part
